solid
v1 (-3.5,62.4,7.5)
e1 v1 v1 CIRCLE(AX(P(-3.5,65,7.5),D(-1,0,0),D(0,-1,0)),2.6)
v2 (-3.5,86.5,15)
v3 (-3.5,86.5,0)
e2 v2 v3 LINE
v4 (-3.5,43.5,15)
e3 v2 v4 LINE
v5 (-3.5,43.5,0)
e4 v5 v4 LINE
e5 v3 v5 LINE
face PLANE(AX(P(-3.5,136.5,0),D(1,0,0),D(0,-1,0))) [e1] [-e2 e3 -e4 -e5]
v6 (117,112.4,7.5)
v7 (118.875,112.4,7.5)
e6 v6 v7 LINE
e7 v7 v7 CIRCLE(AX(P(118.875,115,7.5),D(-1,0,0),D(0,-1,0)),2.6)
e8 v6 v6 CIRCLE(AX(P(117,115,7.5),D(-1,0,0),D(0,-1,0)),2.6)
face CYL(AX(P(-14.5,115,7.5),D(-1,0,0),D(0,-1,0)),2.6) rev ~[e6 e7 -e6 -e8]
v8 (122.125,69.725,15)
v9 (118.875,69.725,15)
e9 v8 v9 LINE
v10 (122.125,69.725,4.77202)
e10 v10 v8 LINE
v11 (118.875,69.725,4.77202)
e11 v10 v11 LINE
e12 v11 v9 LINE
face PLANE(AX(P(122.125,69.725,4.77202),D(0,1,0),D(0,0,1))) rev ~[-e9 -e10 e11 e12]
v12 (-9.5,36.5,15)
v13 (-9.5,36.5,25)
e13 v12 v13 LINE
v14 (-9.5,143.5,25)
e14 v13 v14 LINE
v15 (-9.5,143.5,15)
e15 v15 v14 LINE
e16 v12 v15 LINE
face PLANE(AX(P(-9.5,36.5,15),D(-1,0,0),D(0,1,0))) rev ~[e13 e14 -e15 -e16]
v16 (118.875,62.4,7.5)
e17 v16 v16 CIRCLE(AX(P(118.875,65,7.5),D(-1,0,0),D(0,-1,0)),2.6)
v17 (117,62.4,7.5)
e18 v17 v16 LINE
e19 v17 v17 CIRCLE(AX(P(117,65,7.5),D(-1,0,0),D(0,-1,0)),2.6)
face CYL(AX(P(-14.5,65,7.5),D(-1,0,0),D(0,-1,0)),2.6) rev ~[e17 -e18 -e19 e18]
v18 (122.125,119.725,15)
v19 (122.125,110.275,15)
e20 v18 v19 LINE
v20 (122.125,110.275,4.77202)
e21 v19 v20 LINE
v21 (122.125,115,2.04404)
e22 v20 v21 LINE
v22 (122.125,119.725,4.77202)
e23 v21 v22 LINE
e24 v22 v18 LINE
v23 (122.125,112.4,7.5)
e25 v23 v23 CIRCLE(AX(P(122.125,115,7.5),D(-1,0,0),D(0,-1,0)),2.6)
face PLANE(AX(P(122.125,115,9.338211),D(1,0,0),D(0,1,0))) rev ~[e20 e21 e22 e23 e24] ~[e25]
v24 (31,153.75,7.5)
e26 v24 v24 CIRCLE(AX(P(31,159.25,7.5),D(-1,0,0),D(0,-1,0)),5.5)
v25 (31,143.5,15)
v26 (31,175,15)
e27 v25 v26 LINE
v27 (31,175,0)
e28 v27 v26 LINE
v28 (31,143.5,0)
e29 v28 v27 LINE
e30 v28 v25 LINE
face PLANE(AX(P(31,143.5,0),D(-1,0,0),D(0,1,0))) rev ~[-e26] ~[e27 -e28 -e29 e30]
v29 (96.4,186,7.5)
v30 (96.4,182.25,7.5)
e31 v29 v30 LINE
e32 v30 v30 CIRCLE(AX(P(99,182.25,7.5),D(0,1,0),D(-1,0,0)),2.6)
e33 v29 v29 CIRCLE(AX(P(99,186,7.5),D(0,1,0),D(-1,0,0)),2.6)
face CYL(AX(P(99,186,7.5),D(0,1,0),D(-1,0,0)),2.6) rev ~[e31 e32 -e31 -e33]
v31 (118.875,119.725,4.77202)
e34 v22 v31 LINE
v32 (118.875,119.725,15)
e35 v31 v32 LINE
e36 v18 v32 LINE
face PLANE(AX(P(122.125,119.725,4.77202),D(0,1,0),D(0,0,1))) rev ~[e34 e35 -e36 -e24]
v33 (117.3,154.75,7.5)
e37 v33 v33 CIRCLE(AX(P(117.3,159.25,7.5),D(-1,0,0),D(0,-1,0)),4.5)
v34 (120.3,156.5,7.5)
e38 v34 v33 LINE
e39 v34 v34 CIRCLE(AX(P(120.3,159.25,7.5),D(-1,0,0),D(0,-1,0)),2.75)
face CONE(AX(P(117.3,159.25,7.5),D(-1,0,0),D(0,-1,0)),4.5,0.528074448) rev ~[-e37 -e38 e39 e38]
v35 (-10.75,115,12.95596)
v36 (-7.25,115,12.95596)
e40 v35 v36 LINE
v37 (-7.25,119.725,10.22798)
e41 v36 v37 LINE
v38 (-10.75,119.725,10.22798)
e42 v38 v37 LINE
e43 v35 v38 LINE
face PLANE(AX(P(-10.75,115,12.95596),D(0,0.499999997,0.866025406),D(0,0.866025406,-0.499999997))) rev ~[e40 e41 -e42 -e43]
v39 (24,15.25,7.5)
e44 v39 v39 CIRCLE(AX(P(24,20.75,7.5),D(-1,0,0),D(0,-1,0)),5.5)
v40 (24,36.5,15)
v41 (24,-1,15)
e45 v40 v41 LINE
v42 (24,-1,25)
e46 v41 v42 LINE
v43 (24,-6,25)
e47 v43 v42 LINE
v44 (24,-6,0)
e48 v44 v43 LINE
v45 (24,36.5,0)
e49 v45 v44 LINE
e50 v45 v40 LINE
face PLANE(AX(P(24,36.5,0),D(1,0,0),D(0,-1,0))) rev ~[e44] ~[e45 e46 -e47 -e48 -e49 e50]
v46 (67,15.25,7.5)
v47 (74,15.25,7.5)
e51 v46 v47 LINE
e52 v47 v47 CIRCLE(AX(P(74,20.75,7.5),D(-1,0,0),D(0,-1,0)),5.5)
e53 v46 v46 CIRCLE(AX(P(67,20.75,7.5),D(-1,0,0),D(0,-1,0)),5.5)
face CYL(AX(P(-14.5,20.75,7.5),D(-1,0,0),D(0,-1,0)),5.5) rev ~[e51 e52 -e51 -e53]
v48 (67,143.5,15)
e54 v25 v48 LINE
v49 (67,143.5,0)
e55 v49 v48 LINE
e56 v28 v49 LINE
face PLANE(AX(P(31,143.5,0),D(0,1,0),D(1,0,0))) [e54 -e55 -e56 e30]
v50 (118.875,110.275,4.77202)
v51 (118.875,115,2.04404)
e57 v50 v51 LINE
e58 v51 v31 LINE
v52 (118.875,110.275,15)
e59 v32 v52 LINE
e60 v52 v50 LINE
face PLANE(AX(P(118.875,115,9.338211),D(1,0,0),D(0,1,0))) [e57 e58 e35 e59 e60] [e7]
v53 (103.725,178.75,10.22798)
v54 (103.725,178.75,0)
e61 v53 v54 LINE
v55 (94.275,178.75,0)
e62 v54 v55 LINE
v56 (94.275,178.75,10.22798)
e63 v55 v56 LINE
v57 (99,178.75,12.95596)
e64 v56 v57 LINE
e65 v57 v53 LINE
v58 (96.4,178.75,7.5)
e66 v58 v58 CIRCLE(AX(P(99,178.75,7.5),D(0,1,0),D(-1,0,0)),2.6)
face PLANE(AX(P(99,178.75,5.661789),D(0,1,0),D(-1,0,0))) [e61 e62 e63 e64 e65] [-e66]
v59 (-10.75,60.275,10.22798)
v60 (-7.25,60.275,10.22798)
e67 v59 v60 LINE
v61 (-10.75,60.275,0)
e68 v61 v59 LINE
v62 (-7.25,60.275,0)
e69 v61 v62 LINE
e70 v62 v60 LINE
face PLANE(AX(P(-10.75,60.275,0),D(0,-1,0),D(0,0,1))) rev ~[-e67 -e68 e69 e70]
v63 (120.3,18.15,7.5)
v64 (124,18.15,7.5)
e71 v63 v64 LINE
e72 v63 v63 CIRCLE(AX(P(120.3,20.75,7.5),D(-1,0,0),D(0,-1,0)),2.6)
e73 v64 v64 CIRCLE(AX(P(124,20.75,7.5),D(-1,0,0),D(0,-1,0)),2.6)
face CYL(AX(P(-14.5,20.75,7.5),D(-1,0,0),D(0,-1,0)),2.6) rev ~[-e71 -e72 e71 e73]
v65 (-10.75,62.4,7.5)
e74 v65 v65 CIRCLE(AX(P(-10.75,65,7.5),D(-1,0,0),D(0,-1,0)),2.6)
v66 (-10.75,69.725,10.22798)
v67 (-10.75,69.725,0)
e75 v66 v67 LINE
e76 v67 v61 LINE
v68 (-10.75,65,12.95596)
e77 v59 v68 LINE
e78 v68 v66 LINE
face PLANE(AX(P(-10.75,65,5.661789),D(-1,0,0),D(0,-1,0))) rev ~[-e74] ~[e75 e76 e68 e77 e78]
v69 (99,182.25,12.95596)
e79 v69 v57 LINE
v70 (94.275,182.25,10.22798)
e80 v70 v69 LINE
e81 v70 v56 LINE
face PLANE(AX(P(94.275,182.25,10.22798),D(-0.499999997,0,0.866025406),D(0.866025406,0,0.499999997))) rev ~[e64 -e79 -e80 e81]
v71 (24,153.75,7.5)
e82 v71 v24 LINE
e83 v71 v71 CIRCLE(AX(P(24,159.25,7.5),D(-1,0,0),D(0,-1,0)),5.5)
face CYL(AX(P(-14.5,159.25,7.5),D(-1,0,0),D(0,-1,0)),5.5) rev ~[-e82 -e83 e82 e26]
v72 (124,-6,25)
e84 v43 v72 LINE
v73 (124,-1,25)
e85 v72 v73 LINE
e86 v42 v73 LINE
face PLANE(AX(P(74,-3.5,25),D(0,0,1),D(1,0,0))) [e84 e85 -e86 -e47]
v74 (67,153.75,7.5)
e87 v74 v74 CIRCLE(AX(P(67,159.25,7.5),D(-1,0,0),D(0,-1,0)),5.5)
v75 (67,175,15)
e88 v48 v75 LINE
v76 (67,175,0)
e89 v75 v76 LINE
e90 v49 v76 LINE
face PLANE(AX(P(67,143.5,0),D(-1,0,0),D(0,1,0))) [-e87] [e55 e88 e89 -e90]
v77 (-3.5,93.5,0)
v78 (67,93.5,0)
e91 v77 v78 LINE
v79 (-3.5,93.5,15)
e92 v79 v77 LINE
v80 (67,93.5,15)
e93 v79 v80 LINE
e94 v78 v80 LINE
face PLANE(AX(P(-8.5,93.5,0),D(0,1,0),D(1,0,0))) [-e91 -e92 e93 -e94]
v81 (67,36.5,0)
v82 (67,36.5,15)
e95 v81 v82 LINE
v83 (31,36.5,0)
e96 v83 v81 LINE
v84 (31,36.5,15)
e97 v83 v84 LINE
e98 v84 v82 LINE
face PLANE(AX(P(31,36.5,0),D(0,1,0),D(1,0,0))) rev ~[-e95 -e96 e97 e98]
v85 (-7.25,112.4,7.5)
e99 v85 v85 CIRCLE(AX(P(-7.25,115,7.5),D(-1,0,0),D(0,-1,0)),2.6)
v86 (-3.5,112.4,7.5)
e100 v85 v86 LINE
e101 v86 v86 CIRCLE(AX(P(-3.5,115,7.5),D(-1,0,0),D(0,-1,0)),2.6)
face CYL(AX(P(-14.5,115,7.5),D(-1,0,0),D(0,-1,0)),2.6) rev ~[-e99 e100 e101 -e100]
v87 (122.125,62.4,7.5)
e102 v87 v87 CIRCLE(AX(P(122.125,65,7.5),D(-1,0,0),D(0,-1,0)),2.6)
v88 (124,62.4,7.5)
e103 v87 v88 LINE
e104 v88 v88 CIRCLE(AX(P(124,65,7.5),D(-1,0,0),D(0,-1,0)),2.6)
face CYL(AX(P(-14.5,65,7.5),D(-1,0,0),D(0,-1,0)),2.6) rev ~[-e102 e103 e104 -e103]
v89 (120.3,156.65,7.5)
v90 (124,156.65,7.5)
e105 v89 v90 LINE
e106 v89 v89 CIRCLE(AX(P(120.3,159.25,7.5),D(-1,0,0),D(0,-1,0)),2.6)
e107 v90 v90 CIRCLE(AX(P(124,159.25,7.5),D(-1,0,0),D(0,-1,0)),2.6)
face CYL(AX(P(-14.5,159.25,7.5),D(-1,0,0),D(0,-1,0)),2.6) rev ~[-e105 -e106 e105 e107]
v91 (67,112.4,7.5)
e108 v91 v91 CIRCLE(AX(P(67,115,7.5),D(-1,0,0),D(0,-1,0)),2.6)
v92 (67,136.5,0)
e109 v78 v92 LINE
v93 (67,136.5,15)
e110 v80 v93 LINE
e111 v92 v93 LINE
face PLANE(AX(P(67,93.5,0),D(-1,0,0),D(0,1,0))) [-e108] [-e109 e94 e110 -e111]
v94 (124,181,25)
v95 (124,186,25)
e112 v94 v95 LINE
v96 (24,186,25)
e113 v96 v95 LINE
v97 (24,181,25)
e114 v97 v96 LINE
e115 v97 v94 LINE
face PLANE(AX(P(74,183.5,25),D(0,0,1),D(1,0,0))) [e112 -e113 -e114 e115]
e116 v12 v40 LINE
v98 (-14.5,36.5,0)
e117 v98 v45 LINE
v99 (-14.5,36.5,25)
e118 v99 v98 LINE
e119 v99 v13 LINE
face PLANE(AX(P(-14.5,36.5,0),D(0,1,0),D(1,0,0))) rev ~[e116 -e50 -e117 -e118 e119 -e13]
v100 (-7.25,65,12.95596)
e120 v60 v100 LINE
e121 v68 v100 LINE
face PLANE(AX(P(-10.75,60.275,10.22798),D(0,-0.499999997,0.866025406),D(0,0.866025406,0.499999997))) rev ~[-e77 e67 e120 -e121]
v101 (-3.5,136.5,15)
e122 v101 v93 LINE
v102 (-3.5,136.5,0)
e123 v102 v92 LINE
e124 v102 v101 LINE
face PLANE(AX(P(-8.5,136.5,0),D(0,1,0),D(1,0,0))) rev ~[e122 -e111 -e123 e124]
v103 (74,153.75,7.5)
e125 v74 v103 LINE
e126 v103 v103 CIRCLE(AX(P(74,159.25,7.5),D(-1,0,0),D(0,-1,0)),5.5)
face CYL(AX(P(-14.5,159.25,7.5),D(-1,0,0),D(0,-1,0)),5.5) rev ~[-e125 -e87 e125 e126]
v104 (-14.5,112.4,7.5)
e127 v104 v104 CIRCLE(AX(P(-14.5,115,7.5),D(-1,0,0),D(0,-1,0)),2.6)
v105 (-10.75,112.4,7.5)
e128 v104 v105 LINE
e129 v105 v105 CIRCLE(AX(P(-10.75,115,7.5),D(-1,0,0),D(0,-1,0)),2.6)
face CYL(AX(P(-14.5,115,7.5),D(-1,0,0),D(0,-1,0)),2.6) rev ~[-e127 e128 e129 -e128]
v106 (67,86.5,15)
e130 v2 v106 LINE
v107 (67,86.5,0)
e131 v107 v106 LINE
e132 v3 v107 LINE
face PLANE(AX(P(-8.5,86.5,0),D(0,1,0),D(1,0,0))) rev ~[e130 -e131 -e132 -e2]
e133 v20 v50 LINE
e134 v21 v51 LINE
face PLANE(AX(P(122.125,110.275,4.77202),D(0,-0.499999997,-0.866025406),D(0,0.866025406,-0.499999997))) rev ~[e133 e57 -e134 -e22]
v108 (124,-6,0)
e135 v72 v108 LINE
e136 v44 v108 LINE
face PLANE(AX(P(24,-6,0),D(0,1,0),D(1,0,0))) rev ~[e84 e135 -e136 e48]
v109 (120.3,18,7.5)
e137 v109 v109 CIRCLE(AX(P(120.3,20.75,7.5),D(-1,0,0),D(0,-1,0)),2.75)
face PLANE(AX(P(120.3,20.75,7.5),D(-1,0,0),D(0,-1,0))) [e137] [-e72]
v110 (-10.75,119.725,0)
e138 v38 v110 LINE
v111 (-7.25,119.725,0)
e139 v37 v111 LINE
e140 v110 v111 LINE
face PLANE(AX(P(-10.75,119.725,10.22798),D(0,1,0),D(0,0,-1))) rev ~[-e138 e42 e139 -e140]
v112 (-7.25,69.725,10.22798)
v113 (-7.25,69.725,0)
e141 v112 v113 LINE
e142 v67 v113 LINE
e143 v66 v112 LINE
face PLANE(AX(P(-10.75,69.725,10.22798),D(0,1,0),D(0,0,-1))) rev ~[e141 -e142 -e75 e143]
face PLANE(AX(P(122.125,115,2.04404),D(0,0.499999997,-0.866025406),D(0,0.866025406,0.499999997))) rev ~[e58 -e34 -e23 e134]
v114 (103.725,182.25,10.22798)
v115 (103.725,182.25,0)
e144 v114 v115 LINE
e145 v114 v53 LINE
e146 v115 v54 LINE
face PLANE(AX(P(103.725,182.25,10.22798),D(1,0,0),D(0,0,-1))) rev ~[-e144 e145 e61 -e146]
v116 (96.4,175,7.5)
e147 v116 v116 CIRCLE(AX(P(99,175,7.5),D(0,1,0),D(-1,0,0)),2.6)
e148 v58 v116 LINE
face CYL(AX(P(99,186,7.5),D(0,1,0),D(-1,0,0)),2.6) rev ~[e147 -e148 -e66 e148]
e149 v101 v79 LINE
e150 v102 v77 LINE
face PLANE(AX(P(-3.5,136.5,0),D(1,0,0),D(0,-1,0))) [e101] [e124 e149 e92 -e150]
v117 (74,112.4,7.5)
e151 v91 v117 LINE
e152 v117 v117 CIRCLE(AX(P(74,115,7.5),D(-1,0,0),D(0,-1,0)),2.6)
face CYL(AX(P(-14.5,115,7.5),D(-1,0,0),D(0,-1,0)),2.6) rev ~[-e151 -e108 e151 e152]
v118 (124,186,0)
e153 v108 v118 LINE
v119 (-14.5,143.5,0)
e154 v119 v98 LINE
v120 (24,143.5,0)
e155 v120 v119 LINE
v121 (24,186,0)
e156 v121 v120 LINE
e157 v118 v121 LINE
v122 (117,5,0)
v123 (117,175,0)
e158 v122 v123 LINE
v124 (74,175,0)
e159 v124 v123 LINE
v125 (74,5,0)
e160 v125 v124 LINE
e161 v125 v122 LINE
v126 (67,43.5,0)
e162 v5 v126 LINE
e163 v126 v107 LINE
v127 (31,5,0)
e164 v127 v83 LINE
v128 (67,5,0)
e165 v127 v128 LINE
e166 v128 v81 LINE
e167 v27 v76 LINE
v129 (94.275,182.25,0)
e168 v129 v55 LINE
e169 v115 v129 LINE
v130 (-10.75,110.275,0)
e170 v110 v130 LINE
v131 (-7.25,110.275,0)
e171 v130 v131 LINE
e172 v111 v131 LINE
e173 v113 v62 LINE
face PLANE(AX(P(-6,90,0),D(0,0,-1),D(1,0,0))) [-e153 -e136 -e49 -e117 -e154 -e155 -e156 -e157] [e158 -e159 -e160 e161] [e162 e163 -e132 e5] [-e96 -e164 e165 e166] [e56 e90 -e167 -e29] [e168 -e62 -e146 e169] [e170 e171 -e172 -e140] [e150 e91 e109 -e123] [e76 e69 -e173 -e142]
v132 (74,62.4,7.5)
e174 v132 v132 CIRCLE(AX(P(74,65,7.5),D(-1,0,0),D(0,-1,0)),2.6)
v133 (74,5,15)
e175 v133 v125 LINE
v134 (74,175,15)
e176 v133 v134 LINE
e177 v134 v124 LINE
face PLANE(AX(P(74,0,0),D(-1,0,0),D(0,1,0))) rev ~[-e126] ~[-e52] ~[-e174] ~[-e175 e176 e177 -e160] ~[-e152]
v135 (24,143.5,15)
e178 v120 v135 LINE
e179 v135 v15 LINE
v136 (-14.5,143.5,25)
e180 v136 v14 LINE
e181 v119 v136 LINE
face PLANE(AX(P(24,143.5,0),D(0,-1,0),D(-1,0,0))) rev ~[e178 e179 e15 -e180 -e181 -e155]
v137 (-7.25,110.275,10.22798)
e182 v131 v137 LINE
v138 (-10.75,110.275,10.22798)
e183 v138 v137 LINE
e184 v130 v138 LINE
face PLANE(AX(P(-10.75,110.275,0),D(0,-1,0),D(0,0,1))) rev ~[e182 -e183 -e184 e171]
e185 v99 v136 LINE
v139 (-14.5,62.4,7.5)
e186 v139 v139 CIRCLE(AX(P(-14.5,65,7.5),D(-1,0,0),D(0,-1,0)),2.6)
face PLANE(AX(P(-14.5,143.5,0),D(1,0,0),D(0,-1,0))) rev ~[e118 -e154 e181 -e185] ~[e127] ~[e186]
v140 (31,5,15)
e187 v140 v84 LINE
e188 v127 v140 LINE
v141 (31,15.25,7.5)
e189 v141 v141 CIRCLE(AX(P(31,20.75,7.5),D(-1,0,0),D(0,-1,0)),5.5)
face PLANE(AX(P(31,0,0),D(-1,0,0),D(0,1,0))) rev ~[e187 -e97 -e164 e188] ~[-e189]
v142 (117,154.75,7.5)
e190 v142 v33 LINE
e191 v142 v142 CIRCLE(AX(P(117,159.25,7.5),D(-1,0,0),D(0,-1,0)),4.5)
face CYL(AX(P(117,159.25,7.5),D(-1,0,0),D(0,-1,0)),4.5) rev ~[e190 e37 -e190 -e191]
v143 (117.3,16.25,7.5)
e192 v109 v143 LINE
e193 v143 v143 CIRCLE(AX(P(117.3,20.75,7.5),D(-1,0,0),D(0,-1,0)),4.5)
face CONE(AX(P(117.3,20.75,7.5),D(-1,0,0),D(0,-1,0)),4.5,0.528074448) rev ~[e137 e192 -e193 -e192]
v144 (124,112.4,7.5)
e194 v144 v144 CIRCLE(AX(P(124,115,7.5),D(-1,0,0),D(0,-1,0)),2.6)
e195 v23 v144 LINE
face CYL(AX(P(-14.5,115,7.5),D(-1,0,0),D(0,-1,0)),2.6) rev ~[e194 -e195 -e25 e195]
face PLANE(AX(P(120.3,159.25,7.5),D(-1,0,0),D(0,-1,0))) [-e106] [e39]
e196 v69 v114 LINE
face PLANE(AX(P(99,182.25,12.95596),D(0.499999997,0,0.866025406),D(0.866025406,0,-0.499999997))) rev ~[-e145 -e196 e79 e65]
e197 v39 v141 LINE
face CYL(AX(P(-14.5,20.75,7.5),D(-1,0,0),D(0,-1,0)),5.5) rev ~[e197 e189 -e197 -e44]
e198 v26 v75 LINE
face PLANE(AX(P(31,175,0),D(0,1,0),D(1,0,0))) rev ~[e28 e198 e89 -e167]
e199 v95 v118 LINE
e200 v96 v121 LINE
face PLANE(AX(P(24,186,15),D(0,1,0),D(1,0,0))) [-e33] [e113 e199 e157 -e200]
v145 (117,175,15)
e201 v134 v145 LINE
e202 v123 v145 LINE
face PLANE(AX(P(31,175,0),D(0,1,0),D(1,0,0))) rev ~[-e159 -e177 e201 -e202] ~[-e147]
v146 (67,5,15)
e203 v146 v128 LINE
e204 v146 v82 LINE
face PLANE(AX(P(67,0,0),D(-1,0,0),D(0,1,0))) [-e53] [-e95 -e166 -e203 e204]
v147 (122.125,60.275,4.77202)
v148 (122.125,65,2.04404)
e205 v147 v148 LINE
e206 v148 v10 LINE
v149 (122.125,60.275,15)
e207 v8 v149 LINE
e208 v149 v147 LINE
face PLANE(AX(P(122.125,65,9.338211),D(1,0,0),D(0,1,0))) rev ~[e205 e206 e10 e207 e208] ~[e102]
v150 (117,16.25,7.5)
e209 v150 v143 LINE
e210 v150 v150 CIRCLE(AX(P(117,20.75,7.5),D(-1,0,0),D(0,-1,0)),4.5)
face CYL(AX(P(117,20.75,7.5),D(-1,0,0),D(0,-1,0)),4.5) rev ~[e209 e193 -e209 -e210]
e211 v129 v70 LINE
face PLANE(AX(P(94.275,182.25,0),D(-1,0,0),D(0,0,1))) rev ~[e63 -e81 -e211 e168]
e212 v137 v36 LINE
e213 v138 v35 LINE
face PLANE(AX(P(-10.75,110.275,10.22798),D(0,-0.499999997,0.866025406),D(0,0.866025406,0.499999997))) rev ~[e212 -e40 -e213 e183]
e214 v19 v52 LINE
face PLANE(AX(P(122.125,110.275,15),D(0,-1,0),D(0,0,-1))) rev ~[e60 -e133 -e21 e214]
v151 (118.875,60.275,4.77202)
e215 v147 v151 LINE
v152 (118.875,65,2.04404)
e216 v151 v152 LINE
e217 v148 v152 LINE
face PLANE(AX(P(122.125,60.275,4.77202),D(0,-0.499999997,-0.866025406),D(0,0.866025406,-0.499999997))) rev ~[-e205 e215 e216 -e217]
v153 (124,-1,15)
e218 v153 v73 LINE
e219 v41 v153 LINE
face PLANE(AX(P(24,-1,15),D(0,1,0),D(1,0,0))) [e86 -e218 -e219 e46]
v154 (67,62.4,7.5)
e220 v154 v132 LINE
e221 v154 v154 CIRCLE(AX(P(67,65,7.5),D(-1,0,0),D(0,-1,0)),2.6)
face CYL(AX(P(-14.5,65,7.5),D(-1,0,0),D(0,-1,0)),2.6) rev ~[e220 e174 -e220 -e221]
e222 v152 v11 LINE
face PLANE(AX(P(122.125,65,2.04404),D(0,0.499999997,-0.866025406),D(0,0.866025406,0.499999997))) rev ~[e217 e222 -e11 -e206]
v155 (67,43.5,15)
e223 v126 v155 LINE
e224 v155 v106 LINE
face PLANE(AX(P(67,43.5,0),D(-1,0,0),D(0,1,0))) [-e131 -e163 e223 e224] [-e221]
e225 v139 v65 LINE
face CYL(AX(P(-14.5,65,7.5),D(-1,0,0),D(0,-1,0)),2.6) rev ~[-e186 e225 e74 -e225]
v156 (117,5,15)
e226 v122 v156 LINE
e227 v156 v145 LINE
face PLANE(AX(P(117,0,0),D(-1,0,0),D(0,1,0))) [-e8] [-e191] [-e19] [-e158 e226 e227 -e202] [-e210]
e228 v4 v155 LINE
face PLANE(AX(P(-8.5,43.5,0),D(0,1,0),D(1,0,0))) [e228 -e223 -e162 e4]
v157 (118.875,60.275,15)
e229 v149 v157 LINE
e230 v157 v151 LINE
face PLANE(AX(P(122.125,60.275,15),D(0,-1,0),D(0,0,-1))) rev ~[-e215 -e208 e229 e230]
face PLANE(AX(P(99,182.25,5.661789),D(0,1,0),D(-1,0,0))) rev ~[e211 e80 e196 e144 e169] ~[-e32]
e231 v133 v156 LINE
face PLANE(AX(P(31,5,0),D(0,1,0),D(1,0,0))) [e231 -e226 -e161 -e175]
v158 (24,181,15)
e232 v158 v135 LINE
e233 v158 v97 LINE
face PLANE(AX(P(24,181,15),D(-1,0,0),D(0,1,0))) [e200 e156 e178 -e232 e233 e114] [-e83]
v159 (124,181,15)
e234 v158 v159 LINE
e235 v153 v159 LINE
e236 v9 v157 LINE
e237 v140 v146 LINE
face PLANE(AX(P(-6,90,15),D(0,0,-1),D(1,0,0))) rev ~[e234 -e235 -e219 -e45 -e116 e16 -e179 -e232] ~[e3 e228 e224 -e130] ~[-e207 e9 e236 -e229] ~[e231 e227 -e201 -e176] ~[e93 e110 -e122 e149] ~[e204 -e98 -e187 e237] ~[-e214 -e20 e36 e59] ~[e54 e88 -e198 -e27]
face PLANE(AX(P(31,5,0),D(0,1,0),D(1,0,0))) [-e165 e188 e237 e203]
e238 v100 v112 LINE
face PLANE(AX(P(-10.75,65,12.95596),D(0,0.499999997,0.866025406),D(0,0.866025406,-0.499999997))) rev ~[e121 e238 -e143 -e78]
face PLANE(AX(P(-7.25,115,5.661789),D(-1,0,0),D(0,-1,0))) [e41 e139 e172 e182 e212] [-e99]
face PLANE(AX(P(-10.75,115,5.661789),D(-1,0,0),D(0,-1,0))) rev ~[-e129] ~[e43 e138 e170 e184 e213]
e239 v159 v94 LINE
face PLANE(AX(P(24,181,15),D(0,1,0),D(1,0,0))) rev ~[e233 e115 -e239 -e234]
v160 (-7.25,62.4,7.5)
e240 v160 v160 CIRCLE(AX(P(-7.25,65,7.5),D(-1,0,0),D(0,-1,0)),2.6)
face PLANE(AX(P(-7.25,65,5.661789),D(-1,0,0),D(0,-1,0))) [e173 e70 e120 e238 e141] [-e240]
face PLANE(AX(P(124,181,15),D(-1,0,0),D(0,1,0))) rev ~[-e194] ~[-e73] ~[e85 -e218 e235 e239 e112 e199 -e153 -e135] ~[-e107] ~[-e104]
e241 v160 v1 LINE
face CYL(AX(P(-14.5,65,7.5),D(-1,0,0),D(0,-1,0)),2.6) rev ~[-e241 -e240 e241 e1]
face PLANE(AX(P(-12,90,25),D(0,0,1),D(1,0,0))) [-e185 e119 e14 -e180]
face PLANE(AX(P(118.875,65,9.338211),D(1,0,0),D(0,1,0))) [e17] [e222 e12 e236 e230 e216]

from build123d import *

# Parameters (mm, degrees)
SKETCH_W           = 43
SKETCH_H           = 180
SKETCH_W_2         = 75.5
SKETCH_H_2         = 43
SKETCH_W_3         = 36
SKETCH_H_3         = 36.5
PAD_DEPTH          = 15
SKETCH002_W        = 100
SKETCH002_H        = 5
SKETCH002_W_2      = 5
SKETCH002_H_2      = 107
PAD001_DEPTH       = 10
SKETCH003_W        = 5
SKETCH003_H        = 93
SKETCH003_W_2      = 86
SKETCH003_H_2      = 5
PAD002_DEPTH       = 15
SKETCH004_R        = 2.6
POCKET_DEPTH       = 138.5
SKETCH005_R        = 5.5
POCKET001_DEPTH    = 88.5
POCKET005_START    = -1.875
POCKET005_DEPTH    = 3.25
SKETCH010_R        = 4.5
POCKET006_DEPTH    = 3.3
CHAMFER001_1_SIZE2 = 3
CHAMFER001_1_SIZE  = 1.75
CHAMFER001_2_SIZE2 = 3
CHAMFER001_2_SIZE  = 1.75
SKETCH014_R        = 2.6
POCKET008_DEPTH    = 20
POCKET011_START    = -3.75
POCKET011_DEPTH    = 3.5
POCKET012_START    = -3.75
POCKET012_DEPTH    = 3.5


with BuildPart() as part:
    # Sketch → Pad (new body)
    with BuildSketch(Plane.XY):
        Polygon((124, 0), (124, 180), (124, 186), (24, 186), (24, 180), (24, 143.5), (-8.5, 143.5), (-14.5, 143.5), (-14.5, 36.5), (-8.5, 36.5), (24, 36.5), (24, 0), (24, -6), (124, -6), align=None)
        with Locations((95.5, 90)):
            Rectangle(SKETCH_W, SKETCH_H, mode=Mode.SUBTRACT)
        with Locations((29.25, 115)):
            Rectangle(SKETCH_W_2, SKETCH_H_2, mode=Mode.SUBTRACT)
        with Locations((29.25, 65)):
            Rectangle(SKETCH_W_2, SKETCH_H_2, mode=Mode.SUBTRACT)
        with Locations((49, 161.75)):
            Rectangle(SKETCH_W_3, SKETCH_H_3, mode=Mode.SUBTRACT)
        with Locations((49, 18.25)):
            Rectangle(SKETCH_W_3, SKETCH_H_3, mode=Mode.SUBTRACT)
    extrude(amount=PAD_DEPTH)

    # Sketch002 (on Face25 of Pad) → Pad001 (join)
    with BuildSketch(Plane.XY.offset(15)):
        with Locations((74, 183.5)):
            Rectangle(SKETCH002_W, SKETCH002_H)
        with Locations((74, -3.5)):
            Rectangle(SKETCH002_W, SKETCH002_H)
        with Locations((-12, 90)):
            Rectangle(SKETCH002_W_2, SKETCH002_H_2)
    extrude(amount=PAD001_DEPTH)

    # Sketch003 (on Face4 of Pad001) → Pad002 (join)
    with BuildSketch(Plane(origin=(0, 0, 0), x_dir=(1, 0, 0), z_dir=(0, 0, -1))):
        with Locations((-6, -90)):
            Rectangle(SKETCH003_W, SKETCH003_H)
        with Locations((74, -177.5)):
            Rectangle(SKETCH003_W_2, SKETCH003_H_2)
        with Locations((74, -2.5)):
            Rectangle(SKETCH003_W_2, SKETCH003_H_2)
    extrude(amount=-PAD002_DEPTH)

    # Sketch004 (on Face35 of Pad002) → Pocket (cut)
    with BuildSketch(Plane(origin=(-14.5, 0, 0), x_dir=(0, -1, 0), z_dir=(-1, 0, 0))):
        with Locations((-115, 7.5)):
            Circle(SKETCH004_R)
        with Locations((-20.75, 7.5)):
            Circle(SKETCH004_R)
        with Locations((-65, 7.5)):
            Circle(SKETCH004_R)
        with Locations((-159.25, 7.5)):
            Circle(SKETCH004_R)
    extrude(amount=-POCKET_DEPTH, mode=Mode.SUBTRACT)

    # Sketch005 (on Face17 of Pocket) → Pocket001 (cut)
    with BuildSketch(Plane(origin=(-14.5, 0, 0), x_dir=(0, -1, 0), z_dir=(-1, 0, 0))):
        with Locations((-159.25, 7.5)):
            Circle(SKETCH005_R)
        with Locations((-20.75, 7.5)):
            Circle(SKETCH005_R)
    extrude(amount=-POCKET001_DEPTH, mode=Mode.SUBTRACT)

    # Sketch009 (on Face3 of Pocket001) → Pocket005 (cut)
    with BuildSketch(Plane.YZ.offset(124).offset(POCKET005_START)):
        Polygon((60.275, 10.22798), (60.275, 4.77202), (65, 2.04404), (69.725, 4.77202), (69.725, 10.22798), (69.725, 15), (60.275, 15), align=None)
        Polygon((110.275, 10.22798), (110.275, 4.77202), (115, 2.04404), (119.725, 4.77202), (119.725, 10.22798), (119.725, 15), (110.275, 15), align=None)
    extrude(amount=-POCKET005_DEPTH, mode=Mode.SUBTRACT)

    # Sketch010 (on Face21 of Pocket005) → Pocket006 (cut)
    with BuildSketch(Plane(origin=(117, 0, 0), x_dir=(0, -1, 0), z_dir=(-1, 0, 0))):
        with Locations((-159.25, 7.5)):
            Circle(SKETCH010_R)
        with Locations((-20.75, 7.5)):
            Circle(SKETCH010_R)
    extrude(amount=-POCKET006_DEPTH, mode=Mode.SUBTRACT)

    # Chamfer001 1
    chamfer001_1_edges = [part.edges().sort_by_distance(p)[0] for p in [
        (120.3, 163.75, 7.5),
    ]]
    chamfer001_1_side = part.faces().sort_by_distance((120.3, 163.622721, 7.5))[0]
    chamfer(chamfer001_1_edges, length=CHAMFER001_1_SIZE, length2=CHAMFER001_1_SIZE2, reference=chamfer001_1_side)

    # Chamfer001 2
    chamfer001_2_edges = [part.edges().sort_by_distance(p)[0] for p in [
        (120.3, 25.25, 7.5),
    ]]
    chamfer001_2_side = part.faces().sort_by_distance((120.3, 25.122721, 7.5))[0]
    chamfer(chamfer001_2_edges, length=CHAMFER001_2_SIZE, length2=CHAMFER001_2_SIZE2, reference=chamfer001_2_side)

    # Sketch014 (on Face10 of Chamfer001) → Pocket008 (cut)
    with BuildSketch(Plane(origin=(0, 186, 0), x_dir=(-1, 0, 0), z_dir=(0, 1, 0))):
        with Locations((-99, 7.5)):
            Circle(SKETCH014_R)
    extrude(amount=-POCKET008_DEPTH, mode=Mode.SUBTRACT)

    # Sketch018 (on Face25 of Pocket008) → Pocket011 (cut)
    with BuildSketch(Plane(origin=(-14.5, 0, 0), x_dir=(0, -1, 0), z_dir=(-1, 0, 0)).offset(POCKET011_START)):
        Polygon((-115, 12.95596), (-119.725, 10.22798), (-119.725, 4.77202), (-119.725, 0), (-110.275, 0), (-110.275, 4.77202), (-110.275, 10.22798), align=None)
        Polygon((-69.725, 10.22798), (-69.725, 4.77202), (-69.725, 0), (-60.275, 0), (-60.275, 4.77202), (-60.275, 10.22798), (-65, 12.95596), align=None)
    extrude(amount=-POCKET011_DEPTH, mode=Mode.SUBTRACT)

    # Sketch019 (on Face10 of Pocket011) → Pocket012 (cut)
    with BuildSketch(Plane(origin=(0, 186, 0), x_dir=(-1, 0, 0), z_dir=(0, 1, 0)).offset(POCKET012_START)):
        Polygon((-94.275, 10.22798), (-99, 12.95596), (-103.725, 10.22798), (-103.725, 4.77202), (-103.725, 0), (-94.275, 0), (-94.275, 4.77202), align=None)
    extrude(amount=-POCKET012_DEPTH, mode=Mode.SUBTRACT)


solid = part.part
